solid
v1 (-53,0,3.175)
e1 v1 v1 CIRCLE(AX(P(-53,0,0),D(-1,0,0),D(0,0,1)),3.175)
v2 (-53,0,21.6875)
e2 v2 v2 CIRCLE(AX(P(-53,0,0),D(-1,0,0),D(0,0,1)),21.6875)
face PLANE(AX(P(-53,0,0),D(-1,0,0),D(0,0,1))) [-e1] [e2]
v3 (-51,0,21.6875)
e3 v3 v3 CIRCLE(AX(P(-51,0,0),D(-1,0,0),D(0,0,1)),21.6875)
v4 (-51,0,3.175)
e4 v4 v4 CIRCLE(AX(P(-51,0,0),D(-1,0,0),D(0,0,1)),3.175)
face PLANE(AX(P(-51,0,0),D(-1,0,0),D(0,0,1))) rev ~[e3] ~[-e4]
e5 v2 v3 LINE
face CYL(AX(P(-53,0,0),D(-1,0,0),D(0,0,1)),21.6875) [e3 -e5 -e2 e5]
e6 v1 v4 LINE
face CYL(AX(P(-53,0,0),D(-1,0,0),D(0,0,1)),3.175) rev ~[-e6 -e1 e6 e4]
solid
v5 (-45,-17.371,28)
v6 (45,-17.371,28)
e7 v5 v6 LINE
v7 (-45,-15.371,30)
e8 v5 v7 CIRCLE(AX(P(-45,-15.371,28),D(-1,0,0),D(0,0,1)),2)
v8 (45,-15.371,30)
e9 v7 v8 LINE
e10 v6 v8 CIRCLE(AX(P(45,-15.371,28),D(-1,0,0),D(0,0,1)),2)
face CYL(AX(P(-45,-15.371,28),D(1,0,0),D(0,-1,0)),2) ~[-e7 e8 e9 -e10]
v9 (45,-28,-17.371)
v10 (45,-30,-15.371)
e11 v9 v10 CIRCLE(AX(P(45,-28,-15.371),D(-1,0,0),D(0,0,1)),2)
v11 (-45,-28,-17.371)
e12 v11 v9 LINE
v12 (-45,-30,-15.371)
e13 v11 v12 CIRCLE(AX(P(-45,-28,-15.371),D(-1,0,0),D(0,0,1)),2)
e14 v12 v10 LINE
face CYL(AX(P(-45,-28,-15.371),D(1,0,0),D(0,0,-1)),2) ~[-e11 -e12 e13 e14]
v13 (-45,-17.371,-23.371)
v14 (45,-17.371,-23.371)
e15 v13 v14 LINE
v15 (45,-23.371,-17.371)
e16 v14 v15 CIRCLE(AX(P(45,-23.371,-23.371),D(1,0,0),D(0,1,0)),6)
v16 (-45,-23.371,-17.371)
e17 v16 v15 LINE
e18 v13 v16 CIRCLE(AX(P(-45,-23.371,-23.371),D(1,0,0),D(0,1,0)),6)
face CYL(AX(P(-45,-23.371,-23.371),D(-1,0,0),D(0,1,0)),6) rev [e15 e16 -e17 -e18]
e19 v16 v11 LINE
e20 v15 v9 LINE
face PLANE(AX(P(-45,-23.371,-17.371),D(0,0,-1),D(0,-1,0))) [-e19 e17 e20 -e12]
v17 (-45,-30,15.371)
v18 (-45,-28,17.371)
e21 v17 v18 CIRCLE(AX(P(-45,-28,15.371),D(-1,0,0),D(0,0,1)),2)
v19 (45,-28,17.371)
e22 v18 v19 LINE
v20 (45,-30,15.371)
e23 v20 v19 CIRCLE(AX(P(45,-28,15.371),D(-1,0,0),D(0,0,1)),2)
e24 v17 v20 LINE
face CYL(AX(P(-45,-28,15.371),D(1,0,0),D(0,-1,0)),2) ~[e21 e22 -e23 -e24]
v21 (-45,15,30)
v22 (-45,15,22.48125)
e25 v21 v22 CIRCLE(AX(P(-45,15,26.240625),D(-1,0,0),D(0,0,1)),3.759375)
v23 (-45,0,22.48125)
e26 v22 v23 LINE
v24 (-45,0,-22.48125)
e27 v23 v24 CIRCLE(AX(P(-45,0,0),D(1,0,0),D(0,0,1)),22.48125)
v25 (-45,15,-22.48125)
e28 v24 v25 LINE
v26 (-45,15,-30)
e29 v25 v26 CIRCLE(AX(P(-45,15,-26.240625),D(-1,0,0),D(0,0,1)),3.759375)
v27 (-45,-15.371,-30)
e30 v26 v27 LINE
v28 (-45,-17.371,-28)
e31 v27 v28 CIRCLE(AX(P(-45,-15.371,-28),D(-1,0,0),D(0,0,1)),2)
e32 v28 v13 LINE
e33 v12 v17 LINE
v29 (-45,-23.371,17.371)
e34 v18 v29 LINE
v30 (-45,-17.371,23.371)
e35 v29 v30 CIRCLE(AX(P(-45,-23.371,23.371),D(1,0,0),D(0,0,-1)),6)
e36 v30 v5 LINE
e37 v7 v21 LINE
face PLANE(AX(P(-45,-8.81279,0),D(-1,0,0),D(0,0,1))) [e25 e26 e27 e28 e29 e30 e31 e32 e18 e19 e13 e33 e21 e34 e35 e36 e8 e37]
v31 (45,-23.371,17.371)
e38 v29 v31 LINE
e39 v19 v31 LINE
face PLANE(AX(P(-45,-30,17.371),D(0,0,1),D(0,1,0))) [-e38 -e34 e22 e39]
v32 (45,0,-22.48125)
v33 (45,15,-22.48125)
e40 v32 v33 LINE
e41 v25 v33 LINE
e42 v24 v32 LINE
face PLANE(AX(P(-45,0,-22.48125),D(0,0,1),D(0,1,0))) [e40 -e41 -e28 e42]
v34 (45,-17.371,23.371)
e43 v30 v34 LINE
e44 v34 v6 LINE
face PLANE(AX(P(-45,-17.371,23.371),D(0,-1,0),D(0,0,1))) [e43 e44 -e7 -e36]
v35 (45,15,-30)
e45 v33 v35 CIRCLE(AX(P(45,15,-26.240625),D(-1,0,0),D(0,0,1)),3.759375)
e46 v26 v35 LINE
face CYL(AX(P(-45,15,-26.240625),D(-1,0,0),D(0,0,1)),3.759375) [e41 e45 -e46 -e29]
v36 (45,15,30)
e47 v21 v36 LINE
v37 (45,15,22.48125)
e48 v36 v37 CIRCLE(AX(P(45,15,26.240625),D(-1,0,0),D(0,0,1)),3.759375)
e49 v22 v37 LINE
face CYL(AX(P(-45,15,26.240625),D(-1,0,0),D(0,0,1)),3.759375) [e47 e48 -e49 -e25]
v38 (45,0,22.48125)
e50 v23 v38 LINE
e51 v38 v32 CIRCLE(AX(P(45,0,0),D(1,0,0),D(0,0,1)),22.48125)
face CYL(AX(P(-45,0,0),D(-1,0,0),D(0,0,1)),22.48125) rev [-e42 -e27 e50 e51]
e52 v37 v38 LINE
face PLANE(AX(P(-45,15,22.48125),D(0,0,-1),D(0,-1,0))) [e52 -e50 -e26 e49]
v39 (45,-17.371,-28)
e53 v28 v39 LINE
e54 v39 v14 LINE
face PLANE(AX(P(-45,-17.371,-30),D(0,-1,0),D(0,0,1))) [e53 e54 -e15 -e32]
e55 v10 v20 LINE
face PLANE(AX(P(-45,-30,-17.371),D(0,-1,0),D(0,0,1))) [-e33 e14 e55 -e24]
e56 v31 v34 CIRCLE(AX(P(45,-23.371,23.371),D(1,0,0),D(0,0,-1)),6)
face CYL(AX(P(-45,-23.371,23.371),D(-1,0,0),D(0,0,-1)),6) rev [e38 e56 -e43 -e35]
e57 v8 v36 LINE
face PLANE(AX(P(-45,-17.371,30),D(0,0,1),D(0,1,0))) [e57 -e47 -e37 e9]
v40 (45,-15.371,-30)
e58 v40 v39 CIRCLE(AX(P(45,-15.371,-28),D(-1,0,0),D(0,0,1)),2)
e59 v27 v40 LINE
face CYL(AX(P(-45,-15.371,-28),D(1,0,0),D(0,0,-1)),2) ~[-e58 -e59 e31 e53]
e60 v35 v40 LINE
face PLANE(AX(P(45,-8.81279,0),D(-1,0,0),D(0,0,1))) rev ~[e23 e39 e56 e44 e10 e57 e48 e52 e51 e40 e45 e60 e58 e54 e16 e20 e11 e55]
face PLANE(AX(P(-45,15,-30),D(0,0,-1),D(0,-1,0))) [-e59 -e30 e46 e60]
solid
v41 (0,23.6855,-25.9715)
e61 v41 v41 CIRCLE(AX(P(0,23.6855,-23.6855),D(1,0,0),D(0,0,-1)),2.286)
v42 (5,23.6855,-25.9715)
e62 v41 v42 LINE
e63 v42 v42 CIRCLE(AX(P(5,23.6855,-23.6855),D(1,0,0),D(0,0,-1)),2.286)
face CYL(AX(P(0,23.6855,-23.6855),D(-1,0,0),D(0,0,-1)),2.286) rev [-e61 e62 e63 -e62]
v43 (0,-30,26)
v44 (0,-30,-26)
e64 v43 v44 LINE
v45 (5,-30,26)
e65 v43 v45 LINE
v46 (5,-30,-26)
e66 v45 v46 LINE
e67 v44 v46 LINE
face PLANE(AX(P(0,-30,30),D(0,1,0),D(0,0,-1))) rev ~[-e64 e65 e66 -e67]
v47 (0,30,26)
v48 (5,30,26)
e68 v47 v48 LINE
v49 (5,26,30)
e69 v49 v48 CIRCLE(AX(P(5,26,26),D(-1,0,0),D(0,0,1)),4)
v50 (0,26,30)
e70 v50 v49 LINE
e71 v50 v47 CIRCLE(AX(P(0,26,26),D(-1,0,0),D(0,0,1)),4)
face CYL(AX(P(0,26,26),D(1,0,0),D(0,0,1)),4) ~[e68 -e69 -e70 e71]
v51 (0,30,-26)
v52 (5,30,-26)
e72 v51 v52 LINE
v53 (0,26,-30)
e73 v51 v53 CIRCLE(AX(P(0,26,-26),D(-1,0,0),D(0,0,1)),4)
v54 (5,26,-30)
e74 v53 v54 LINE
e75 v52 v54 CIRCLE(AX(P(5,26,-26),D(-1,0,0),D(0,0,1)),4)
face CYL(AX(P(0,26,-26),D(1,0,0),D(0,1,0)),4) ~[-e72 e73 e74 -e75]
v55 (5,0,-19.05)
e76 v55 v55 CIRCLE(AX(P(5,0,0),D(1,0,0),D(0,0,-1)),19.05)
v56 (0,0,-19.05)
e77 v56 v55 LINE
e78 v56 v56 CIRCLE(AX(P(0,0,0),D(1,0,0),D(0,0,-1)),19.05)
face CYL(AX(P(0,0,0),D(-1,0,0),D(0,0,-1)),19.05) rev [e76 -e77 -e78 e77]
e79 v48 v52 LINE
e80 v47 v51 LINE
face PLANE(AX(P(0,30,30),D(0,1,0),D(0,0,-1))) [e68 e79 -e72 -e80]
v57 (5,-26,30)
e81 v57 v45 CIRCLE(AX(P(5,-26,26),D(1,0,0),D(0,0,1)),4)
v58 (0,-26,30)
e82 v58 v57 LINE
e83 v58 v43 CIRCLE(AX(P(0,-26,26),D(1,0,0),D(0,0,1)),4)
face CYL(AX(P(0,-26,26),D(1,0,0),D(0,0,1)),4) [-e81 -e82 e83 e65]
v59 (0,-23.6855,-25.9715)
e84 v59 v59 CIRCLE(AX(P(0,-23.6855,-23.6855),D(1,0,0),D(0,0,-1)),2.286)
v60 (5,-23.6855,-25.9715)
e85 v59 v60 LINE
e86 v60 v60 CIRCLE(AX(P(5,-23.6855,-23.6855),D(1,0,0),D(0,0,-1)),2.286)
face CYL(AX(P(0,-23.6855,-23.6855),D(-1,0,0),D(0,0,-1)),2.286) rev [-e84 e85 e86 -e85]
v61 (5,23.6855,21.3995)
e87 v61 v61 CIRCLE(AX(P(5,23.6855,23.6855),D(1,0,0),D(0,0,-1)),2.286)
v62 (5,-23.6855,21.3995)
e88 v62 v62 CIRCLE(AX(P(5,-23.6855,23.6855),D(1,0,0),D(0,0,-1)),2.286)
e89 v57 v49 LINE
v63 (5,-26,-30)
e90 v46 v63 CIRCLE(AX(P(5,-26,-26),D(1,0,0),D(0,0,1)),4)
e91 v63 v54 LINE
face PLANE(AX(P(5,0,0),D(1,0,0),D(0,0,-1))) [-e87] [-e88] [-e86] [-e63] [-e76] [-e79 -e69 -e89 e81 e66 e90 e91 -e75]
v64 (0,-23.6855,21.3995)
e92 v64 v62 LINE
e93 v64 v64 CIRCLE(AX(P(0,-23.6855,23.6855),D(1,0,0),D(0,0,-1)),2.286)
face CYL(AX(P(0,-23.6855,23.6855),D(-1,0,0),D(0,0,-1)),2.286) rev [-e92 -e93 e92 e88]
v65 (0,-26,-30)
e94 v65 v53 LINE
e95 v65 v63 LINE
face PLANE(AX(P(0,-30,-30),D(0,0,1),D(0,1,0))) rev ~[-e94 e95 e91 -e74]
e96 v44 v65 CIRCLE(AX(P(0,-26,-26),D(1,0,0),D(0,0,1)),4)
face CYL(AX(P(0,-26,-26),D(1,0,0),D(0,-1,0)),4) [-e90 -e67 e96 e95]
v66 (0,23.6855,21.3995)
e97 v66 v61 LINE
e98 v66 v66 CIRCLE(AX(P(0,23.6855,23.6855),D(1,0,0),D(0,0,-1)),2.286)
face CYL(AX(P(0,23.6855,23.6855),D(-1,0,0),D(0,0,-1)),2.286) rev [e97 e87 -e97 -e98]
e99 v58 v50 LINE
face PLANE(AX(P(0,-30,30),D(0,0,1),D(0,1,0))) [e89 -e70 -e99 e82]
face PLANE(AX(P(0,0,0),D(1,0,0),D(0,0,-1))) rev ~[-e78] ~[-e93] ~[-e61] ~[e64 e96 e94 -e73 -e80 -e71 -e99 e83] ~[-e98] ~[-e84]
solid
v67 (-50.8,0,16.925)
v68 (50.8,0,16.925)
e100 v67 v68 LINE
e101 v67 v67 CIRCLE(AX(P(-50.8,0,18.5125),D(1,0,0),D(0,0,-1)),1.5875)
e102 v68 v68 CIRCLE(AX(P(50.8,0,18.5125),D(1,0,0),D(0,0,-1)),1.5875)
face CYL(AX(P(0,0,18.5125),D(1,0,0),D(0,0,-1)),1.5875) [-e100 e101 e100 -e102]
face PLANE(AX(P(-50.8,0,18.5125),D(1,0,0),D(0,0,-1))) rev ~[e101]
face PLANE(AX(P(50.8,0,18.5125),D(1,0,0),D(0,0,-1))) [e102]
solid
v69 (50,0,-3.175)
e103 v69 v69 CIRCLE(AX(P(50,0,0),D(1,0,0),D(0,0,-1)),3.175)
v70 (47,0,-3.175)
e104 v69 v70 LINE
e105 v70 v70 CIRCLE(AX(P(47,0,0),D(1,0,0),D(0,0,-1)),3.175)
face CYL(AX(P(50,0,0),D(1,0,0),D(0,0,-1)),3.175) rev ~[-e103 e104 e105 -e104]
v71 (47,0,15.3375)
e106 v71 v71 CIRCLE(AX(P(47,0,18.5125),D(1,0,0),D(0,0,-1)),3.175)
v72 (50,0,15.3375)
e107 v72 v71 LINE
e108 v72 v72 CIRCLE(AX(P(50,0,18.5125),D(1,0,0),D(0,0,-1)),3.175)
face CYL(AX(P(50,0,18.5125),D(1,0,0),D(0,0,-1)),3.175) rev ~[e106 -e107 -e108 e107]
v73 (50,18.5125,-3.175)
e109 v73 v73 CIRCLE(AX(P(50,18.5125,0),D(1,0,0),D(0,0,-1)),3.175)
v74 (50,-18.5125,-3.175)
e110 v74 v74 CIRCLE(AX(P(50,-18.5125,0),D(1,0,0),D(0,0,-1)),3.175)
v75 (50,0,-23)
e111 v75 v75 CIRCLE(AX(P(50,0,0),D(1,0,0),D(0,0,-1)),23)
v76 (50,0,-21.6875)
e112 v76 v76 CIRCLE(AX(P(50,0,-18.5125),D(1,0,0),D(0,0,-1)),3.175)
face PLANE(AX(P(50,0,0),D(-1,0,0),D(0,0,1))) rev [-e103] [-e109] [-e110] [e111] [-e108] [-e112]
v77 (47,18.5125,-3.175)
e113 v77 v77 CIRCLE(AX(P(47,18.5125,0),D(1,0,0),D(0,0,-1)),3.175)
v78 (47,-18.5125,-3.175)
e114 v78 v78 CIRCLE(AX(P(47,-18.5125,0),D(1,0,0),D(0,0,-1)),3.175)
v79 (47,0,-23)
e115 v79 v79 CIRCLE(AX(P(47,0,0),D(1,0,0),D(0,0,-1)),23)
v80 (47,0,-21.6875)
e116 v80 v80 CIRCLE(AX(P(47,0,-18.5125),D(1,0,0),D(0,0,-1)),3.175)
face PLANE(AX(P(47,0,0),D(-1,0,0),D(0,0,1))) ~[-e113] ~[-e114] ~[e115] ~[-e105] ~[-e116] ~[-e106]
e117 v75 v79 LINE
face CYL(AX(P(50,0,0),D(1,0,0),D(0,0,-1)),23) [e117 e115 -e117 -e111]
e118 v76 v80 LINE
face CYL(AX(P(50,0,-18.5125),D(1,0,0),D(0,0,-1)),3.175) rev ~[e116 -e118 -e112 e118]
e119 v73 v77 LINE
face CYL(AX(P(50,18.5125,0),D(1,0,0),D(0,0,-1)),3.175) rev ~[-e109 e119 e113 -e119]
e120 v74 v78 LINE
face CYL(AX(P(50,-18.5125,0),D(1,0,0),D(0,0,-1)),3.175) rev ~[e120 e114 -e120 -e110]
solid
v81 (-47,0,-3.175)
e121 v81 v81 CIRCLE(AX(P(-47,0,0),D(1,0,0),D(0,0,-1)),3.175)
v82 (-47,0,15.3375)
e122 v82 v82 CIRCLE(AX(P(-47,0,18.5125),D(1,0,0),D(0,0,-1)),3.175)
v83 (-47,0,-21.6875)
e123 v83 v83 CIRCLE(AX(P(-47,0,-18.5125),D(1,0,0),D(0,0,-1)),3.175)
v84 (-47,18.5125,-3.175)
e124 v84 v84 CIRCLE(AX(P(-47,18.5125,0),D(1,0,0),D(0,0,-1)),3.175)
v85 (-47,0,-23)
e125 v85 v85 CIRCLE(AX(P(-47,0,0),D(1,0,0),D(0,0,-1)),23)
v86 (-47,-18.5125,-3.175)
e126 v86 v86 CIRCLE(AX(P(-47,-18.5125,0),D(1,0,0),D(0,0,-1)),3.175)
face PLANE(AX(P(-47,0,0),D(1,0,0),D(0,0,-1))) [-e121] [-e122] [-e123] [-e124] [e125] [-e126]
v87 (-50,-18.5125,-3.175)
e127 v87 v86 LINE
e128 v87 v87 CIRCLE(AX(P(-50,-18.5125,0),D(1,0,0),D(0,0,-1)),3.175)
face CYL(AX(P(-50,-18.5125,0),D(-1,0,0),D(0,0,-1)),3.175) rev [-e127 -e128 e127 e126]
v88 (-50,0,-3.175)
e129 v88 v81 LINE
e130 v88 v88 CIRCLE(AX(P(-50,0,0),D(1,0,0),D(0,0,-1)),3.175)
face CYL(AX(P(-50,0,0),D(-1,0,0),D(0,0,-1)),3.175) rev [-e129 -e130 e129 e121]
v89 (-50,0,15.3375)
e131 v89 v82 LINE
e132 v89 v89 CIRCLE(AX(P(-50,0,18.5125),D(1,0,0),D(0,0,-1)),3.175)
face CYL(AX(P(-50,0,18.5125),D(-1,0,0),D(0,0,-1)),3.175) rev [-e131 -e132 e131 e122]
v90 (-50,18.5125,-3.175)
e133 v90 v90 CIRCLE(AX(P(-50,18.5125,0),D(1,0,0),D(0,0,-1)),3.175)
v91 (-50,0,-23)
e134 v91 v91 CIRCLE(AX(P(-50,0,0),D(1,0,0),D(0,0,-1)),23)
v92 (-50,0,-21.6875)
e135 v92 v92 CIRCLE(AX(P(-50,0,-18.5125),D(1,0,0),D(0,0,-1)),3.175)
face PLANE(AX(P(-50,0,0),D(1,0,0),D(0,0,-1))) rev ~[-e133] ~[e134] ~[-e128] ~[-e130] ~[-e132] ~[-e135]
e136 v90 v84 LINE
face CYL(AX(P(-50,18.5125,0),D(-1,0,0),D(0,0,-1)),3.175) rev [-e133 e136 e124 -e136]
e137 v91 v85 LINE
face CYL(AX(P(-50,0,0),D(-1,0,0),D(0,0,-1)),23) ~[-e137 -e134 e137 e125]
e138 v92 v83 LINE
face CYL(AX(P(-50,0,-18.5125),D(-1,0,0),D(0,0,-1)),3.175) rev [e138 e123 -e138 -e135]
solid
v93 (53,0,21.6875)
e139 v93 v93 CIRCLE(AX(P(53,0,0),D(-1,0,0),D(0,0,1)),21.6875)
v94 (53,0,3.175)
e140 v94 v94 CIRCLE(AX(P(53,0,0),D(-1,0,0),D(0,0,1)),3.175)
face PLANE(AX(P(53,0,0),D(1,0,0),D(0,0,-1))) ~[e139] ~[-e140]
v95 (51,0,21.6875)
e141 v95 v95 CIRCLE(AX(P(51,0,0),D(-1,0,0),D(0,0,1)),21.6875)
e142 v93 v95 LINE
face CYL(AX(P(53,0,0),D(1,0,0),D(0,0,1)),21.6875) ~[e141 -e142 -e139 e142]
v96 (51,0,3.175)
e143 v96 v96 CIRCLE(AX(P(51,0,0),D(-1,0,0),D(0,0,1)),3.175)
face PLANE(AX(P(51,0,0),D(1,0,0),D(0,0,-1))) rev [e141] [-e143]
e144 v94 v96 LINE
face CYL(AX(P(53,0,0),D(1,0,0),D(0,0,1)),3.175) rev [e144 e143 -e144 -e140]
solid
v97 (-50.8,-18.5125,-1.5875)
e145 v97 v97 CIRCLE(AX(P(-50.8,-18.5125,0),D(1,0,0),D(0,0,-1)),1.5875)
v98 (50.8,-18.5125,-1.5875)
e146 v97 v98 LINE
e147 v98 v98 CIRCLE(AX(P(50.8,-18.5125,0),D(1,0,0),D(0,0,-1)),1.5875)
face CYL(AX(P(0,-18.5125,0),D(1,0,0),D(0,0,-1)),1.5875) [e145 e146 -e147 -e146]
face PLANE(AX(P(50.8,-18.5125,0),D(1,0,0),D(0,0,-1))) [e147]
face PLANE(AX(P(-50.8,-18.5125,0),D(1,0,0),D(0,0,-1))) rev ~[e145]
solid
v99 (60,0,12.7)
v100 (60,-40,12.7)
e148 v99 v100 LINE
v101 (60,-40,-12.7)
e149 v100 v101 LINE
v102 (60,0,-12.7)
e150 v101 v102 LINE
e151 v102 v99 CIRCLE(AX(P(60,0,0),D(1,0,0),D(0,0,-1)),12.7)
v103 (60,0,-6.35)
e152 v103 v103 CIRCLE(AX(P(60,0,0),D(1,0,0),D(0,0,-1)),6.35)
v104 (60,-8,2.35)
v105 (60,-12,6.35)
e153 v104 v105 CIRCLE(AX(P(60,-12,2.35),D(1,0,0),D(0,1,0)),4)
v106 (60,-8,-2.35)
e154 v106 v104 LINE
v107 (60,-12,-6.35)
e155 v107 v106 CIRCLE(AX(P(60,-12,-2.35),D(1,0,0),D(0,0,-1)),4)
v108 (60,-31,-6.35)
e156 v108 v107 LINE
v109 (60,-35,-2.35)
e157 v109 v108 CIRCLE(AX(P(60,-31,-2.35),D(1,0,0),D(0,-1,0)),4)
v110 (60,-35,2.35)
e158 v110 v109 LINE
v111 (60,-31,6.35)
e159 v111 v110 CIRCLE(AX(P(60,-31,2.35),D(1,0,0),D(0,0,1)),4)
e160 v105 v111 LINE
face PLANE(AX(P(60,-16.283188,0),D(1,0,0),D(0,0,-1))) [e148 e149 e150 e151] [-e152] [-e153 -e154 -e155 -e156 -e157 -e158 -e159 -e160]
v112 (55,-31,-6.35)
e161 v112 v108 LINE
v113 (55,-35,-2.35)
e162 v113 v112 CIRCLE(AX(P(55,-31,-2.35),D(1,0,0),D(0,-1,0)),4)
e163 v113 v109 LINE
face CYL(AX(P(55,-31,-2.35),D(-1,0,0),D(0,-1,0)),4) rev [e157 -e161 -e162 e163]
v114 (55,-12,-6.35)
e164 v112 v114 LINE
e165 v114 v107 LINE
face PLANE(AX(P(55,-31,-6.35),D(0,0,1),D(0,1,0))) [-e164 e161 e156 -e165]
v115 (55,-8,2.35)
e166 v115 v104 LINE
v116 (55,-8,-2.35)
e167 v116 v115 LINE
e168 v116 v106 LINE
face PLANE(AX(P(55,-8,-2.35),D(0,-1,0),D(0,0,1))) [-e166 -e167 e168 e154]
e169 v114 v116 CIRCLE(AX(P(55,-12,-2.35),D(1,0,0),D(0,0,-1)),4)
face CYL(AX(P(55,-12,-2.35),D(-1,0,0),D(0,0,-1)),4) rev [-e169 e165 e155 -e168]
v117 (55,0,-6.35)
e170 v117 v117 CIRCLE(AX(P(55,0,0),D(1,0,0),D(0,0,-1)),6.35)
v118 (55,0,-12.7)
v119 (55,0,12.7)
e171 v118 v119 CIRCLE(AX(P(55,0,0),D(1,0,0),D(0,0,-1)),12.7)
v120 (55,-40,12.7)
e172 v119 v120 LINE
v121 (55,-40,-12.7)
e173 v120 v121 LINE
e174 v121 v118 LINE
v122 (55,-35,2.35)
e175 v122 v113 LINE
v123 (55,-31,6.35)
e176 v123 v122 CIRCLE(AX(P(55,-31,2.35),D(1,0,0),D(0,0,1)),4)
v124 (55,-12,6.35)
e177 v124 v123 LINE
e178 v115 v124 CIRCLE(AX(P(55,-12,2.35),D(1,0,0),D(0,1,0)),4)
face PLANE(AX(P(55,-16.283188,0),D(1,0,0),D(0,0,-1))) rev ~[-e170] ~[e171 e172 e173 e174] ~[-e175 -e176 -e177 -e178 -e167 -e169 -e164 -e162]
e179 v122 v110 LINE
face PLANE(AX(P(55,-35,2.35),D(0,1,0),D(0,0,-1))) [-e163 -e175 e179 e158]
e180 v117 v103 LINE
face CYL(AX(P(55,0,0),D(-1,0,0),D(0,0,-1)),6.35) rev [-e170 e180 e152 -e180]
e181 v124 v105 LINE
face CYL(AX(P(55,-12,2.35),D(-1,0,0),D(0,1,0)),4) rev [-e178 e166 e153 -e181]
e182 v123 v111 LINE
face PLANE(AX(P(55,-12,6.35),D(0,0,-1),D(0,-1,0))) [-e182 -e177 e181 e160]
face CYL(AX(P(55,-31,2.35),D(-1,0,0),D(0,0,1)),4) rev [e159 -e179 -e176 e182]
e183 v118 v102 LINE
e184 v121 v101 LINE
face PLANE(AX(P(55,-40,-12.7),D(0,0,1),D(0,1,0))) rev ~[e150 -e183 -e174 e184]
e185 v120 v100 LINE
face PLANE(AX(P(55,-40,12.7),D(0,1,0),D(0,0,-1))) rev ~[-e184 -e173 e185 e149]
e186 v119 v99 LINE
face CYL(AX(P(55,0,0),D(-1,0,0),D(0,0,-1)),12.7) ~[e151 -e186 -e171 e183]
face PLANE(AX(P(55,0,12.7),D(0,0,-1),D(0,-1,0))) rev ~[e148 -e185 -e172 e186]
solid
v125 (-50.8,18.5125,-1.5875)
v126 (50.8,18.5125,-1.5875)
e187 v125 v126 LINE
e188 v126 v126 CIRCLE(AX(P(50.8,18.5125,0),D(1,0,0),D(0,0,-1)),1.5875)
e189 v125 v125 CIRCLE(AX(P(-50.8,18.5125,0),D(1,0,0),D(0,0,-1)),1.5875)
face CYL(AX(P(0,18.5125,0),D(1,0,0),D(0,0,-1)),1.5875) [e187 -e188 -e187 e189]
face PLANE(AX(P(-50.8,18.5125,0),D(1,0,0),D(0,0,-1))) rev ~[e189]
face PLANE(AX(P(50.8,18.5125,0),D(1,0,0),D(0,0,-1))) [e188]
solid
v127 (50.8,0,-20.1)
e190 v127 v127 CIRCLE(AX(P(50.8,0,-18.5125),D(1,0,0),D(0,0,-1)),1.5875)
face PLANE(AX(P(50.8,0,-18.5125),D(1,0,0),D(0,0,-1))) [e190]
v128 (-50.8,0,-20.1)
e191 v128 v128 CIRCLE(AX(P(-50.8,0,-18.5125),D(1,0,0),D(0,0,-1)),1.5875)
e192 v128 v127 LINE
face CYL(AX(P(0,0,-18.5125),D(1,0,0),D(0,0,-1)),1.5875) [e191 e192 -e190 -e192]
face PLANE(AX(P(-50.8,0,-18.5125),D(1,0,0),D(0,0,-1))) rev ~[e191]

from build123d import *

# Parameters (mm, degrees)
SKETCH1_W              = 60
SKETCH1_H              = 60
SKETCH1_R              = 2.286
SKETCH1_R_2            = 19.05
BOSS_EXTRUDE1_DEPTH    = 5
SKETCH2_R              = 23
SKETCH2_R_2            = 3.175
BOSS_EXTRUDE2_DEPTH    = 3
BOSS_EXTRUDE3_DEPTH    = 90
FILLET1_R              = 2
FILLET3_R              = 4
SKETCH16_R             = 21.6875
SKETCH16_R_2           = 3.175
BOSS_EXTRUDE7_DEPTH    = 2
SKETCH21_R             = 1.5875
BOSS_EXTRUDE11_DEPTH   = 50.8
BOSS_EXTRUDE11_2_DEPTH = 50.8
BOSS_EXTRUDE11_3_DEPTH = 50.8
BOSS_EXTRUDE11_4_DEPTH = 50.8
SKETCH22_R             = 6.35
BOSS_EXTRUDE12_DEPTH   = 5


with BuildPart() as part:
    # Sketch1 → Boss-Extrude1 (new body)
    with BuildSketch(Plane(origin=(0, 0, 0), x_dir=(0, 0, -1), z_dir=(1, 0, 0))):
        Rectangle(SKETCH1_W, SKETCH1_H)
        with Locations((-23.6855, 23.6855)):
            Circle(SKETCH1_R, mode=Mode.SUBTRACT)
        with Locations((23.6855, 23.6855)):
            Circle(SKETCH1_R, mode=Mode.SUBTRACT)
        with Locations((-23.6855, -23.6855)):
            Circle(SKETCH1_R, mode=Mode.SUBTRACT)
        with Locations((23.6855, -23.6855)):
            Circle(SKETCH1_R, mode=Mode.SUBTRACT)
        Circle(SKETCH1_R_2, mode=Mode.SUBTRACT)
    extrude(amount=BOSS_EXTRUDE1_DEPTH)

    # Fillet3
    fillet3_edges = [part.edges().sort_by_distance(p)[0] for p in [
        (2.5, 30, -30),
        (2.5, -30, -30),
        (2.5, -30, 30),
        (2.5, 30, 30),
    ]]
    fillet(fillet3_edges, radius=FILLET3_R)


with BuildPart() as body_2:
    # Sketch2 → Boss-Extrude2 (new body)
    with BuildSketch(Plane(origin=(-50, 0, 0), x_dir=(0, 0, -1), z_dir=(1, 0, 0))):
        Circle(SKETCH2_R)
        Circle(SKETCH2_R_2, mode=Mode.SUBTRACT)
        with Locations((0, 18.5125)):
            Circle(SKETCH2_R_2, mode=Mode.SUBTRACT)
        with Locations((-18.5125, 0)):
            Circle(SKETCH2_R_2, mode=Mode.SUBTRACT)
        with Locations((0, -18.5125)):
            Circle(SKETCH2_R_2, mode=Mode.SUBTRACT)
        with Locations((18.5125, 0)):
            Circle(SKETCH2_R_2, mode=Mode.SUBTRACT)
    extrude(amount=BOSS_EXTRUDE2_DEPTH)


with BuildPart() as body_3:
    # Sketch3 → Boss-Extrude3 (new body)
    with BuildSketch(Plane.ZY.offset(45)):
        with BuildLine():
            Line((-22.48125, 0), (-22.48125, 15))
            ThreePointArc((-22.48125, 15), (-26.240625, 18.759375), (-30, 15))
            Line((-30, 15), (-30, -17.371))
            Line((-30, -17.371), (-23.371, -17.371))
            ThreePointArc((-23.371, -17.371), (-19.128359313, -19.128359313), (-17.371, -23.371))
            Line((-17.371, -23.371), (-17.371, -30))
            Line((-17.371, -30), (17.371, -30))
            Line((17.371, -30), (17.371, -23.371))
            ThreePointArc((17.371, -23.371), (19.128359313, -19.128359313), (23.371, -17.371))
            Line((23.371, -17.371), (30, -17.371))
            Line((30, -17.371), (30, 15))
            ThreePointArc((30, 15), (26.240625, 18.759375), (22.48125, 15))
            Line((22.48125, 15), (22.48125, 0))
            ThreePointArc((22.48125, 0), (0, -22.48125), (-22.48125, 0))
        make_face()
    extrude(amount=-BOSS_EXTRUDE3_DEPTH)

    # Fillet1
    fillet1_edges = [body_3.edges().sort_by_distance(p)[0] for p in [
        (0, -30, 17.371),
        (0, -30, -17.371),
        (0, -17.371, -30),
        (0, -17.371, 30),
    ]]
    fillet(fillet1_edges, radius=FILLET1_R)


with BuildPart() as body_4:
    # Sketch16 → Boss-Extrude7 (new body)
    with BuildSketch(Plane.ZY.offset(53)):
        Circle(SKETCH16_R)
        Circle(SKETCH16_R_2, mode=Mode.SUBTRACT)
    extrude(amount=-BOSS_EXTRUDE7_DEPTH)


with BuildPart() as body_5:
    # Sketch21 → Boss-Extrude11 (new, symmetric)
    with BuildSketch(Plane(origin=(0, 0, 0), x_dir=(0, 0, -1), z_dir=(1, 0, 0))):
        with Locations((-18.5125, 0)):
            Circle(SKETCH21_R)
    extrude(amount=BOSS_EXTRUDE11_DEPTH, both=True)


with BuildPart() as body_6:
    # Sketch21 → Boss-Extrude11 2 (new, symmetric)
    with BuildSketch(Plane(origin=(0, 0, 0), x_dir=(0, 0, -1), z_dir=(1, 0, 0))):
        with Locations((0, 18.5125)):
            Circle(SKETCH21_R)
    extrude(amount=BOSS_EXTRUDE11_2_DEPTH, both=True)


with BuildPart() as body_7:
    # Sketch21 → Boss-Extrude11 3 (new, symmetric)
    with BuildSketch(Plane(origin=(0, 0, 0), x_dir=(0, 0, -1), z_dir=(1, 0, 0))):
        with Locations((18.5125, 0)):
            Circle(SKETCH21_R)
    extrude(amount=BOSS_EXTRUDE11_3_DEPTH, both=True)


with BuildPart() as body_8:
    # Sketch21 → Boss-Extrude11 4 (new, symmetric)
    with BuildSketch(Plane(origin=(0, 0, 0), x_dir=(0, 0, -1), z_dir=(1, 0, 0))):
        with Locations((0, -18.5125)):
            Circle(SKETCH21_R)
    extrude(amount=BOSS_EXTRUDE11_4_DEPTH, both=True)


with BuildPart() as body_9:
    # Mirror2: mirrored copy
    add(body_2.part.mirror(Plane(origin=(0, 0, 0), x_dir=(0, 0, 1), z_dir=(1, 0, 0))))


with BuildPart() as body_10:
    # Mirror2 2: mirrored copy
    add(body_4.part.mirror(Plane(origin=(0, 0, 0), x_dir=(0, 0, 1), z_dir=(1, 0, 0))))


with BuildPart() as body_11:
    # Sketch22 → Boss-Extrude12 (new body)
    with BuildSketch(Plane(origin=(55, 0, 0), x_dir=(0, 0, -1), z_dir=(1, 0, 0))):
        with BuildLine():
            ThreePointArc((12.7, 0), (0, 12.7), (-12.7, 0))
            Line((-12.7, 0), (-12.7, -40))
            Line((-12.7, -40), (12.7, -40))
            Line((12.7, -40), (12.7, 0))
        make_face()
        with BuildLine():
            Line((-6.35, -31), (-6.35, -12))
            ThreePointArc((-6.35, -12), (-5.178427125, -9.171572875), (-2.35, -8))
            Line((-2.35, -8), (2.35, -8))
            ThreePointArc((2.35, -8), (5.178427125, -9.171572875), (6.35, -12))
            Line((6.35, -12), (6.35, -31))
            ThreePointArc((6.35, -31), (5.178427125, -33.828427125), (2.35, -35))
            Line((2.35, -35), (-2.35, -35))
            ThreePointArc((-2.35, -35), (-5.178427125, -33.828427125), (-6.35, -31))
        make_face(mode=Mode.SUBTRACT)
        Circle(SKETCH22_R, mode=Mode.SUBTRACT)
    extrude(amount=BOSS_EXTRUDE12_DEPTH)


solid = Compound([part.part, body_2.part, body_3.part, body_4.part, body_5.part, body_6.part, body_7.part, body_8.part, body_9.part, body_10.part, body_11.part])
